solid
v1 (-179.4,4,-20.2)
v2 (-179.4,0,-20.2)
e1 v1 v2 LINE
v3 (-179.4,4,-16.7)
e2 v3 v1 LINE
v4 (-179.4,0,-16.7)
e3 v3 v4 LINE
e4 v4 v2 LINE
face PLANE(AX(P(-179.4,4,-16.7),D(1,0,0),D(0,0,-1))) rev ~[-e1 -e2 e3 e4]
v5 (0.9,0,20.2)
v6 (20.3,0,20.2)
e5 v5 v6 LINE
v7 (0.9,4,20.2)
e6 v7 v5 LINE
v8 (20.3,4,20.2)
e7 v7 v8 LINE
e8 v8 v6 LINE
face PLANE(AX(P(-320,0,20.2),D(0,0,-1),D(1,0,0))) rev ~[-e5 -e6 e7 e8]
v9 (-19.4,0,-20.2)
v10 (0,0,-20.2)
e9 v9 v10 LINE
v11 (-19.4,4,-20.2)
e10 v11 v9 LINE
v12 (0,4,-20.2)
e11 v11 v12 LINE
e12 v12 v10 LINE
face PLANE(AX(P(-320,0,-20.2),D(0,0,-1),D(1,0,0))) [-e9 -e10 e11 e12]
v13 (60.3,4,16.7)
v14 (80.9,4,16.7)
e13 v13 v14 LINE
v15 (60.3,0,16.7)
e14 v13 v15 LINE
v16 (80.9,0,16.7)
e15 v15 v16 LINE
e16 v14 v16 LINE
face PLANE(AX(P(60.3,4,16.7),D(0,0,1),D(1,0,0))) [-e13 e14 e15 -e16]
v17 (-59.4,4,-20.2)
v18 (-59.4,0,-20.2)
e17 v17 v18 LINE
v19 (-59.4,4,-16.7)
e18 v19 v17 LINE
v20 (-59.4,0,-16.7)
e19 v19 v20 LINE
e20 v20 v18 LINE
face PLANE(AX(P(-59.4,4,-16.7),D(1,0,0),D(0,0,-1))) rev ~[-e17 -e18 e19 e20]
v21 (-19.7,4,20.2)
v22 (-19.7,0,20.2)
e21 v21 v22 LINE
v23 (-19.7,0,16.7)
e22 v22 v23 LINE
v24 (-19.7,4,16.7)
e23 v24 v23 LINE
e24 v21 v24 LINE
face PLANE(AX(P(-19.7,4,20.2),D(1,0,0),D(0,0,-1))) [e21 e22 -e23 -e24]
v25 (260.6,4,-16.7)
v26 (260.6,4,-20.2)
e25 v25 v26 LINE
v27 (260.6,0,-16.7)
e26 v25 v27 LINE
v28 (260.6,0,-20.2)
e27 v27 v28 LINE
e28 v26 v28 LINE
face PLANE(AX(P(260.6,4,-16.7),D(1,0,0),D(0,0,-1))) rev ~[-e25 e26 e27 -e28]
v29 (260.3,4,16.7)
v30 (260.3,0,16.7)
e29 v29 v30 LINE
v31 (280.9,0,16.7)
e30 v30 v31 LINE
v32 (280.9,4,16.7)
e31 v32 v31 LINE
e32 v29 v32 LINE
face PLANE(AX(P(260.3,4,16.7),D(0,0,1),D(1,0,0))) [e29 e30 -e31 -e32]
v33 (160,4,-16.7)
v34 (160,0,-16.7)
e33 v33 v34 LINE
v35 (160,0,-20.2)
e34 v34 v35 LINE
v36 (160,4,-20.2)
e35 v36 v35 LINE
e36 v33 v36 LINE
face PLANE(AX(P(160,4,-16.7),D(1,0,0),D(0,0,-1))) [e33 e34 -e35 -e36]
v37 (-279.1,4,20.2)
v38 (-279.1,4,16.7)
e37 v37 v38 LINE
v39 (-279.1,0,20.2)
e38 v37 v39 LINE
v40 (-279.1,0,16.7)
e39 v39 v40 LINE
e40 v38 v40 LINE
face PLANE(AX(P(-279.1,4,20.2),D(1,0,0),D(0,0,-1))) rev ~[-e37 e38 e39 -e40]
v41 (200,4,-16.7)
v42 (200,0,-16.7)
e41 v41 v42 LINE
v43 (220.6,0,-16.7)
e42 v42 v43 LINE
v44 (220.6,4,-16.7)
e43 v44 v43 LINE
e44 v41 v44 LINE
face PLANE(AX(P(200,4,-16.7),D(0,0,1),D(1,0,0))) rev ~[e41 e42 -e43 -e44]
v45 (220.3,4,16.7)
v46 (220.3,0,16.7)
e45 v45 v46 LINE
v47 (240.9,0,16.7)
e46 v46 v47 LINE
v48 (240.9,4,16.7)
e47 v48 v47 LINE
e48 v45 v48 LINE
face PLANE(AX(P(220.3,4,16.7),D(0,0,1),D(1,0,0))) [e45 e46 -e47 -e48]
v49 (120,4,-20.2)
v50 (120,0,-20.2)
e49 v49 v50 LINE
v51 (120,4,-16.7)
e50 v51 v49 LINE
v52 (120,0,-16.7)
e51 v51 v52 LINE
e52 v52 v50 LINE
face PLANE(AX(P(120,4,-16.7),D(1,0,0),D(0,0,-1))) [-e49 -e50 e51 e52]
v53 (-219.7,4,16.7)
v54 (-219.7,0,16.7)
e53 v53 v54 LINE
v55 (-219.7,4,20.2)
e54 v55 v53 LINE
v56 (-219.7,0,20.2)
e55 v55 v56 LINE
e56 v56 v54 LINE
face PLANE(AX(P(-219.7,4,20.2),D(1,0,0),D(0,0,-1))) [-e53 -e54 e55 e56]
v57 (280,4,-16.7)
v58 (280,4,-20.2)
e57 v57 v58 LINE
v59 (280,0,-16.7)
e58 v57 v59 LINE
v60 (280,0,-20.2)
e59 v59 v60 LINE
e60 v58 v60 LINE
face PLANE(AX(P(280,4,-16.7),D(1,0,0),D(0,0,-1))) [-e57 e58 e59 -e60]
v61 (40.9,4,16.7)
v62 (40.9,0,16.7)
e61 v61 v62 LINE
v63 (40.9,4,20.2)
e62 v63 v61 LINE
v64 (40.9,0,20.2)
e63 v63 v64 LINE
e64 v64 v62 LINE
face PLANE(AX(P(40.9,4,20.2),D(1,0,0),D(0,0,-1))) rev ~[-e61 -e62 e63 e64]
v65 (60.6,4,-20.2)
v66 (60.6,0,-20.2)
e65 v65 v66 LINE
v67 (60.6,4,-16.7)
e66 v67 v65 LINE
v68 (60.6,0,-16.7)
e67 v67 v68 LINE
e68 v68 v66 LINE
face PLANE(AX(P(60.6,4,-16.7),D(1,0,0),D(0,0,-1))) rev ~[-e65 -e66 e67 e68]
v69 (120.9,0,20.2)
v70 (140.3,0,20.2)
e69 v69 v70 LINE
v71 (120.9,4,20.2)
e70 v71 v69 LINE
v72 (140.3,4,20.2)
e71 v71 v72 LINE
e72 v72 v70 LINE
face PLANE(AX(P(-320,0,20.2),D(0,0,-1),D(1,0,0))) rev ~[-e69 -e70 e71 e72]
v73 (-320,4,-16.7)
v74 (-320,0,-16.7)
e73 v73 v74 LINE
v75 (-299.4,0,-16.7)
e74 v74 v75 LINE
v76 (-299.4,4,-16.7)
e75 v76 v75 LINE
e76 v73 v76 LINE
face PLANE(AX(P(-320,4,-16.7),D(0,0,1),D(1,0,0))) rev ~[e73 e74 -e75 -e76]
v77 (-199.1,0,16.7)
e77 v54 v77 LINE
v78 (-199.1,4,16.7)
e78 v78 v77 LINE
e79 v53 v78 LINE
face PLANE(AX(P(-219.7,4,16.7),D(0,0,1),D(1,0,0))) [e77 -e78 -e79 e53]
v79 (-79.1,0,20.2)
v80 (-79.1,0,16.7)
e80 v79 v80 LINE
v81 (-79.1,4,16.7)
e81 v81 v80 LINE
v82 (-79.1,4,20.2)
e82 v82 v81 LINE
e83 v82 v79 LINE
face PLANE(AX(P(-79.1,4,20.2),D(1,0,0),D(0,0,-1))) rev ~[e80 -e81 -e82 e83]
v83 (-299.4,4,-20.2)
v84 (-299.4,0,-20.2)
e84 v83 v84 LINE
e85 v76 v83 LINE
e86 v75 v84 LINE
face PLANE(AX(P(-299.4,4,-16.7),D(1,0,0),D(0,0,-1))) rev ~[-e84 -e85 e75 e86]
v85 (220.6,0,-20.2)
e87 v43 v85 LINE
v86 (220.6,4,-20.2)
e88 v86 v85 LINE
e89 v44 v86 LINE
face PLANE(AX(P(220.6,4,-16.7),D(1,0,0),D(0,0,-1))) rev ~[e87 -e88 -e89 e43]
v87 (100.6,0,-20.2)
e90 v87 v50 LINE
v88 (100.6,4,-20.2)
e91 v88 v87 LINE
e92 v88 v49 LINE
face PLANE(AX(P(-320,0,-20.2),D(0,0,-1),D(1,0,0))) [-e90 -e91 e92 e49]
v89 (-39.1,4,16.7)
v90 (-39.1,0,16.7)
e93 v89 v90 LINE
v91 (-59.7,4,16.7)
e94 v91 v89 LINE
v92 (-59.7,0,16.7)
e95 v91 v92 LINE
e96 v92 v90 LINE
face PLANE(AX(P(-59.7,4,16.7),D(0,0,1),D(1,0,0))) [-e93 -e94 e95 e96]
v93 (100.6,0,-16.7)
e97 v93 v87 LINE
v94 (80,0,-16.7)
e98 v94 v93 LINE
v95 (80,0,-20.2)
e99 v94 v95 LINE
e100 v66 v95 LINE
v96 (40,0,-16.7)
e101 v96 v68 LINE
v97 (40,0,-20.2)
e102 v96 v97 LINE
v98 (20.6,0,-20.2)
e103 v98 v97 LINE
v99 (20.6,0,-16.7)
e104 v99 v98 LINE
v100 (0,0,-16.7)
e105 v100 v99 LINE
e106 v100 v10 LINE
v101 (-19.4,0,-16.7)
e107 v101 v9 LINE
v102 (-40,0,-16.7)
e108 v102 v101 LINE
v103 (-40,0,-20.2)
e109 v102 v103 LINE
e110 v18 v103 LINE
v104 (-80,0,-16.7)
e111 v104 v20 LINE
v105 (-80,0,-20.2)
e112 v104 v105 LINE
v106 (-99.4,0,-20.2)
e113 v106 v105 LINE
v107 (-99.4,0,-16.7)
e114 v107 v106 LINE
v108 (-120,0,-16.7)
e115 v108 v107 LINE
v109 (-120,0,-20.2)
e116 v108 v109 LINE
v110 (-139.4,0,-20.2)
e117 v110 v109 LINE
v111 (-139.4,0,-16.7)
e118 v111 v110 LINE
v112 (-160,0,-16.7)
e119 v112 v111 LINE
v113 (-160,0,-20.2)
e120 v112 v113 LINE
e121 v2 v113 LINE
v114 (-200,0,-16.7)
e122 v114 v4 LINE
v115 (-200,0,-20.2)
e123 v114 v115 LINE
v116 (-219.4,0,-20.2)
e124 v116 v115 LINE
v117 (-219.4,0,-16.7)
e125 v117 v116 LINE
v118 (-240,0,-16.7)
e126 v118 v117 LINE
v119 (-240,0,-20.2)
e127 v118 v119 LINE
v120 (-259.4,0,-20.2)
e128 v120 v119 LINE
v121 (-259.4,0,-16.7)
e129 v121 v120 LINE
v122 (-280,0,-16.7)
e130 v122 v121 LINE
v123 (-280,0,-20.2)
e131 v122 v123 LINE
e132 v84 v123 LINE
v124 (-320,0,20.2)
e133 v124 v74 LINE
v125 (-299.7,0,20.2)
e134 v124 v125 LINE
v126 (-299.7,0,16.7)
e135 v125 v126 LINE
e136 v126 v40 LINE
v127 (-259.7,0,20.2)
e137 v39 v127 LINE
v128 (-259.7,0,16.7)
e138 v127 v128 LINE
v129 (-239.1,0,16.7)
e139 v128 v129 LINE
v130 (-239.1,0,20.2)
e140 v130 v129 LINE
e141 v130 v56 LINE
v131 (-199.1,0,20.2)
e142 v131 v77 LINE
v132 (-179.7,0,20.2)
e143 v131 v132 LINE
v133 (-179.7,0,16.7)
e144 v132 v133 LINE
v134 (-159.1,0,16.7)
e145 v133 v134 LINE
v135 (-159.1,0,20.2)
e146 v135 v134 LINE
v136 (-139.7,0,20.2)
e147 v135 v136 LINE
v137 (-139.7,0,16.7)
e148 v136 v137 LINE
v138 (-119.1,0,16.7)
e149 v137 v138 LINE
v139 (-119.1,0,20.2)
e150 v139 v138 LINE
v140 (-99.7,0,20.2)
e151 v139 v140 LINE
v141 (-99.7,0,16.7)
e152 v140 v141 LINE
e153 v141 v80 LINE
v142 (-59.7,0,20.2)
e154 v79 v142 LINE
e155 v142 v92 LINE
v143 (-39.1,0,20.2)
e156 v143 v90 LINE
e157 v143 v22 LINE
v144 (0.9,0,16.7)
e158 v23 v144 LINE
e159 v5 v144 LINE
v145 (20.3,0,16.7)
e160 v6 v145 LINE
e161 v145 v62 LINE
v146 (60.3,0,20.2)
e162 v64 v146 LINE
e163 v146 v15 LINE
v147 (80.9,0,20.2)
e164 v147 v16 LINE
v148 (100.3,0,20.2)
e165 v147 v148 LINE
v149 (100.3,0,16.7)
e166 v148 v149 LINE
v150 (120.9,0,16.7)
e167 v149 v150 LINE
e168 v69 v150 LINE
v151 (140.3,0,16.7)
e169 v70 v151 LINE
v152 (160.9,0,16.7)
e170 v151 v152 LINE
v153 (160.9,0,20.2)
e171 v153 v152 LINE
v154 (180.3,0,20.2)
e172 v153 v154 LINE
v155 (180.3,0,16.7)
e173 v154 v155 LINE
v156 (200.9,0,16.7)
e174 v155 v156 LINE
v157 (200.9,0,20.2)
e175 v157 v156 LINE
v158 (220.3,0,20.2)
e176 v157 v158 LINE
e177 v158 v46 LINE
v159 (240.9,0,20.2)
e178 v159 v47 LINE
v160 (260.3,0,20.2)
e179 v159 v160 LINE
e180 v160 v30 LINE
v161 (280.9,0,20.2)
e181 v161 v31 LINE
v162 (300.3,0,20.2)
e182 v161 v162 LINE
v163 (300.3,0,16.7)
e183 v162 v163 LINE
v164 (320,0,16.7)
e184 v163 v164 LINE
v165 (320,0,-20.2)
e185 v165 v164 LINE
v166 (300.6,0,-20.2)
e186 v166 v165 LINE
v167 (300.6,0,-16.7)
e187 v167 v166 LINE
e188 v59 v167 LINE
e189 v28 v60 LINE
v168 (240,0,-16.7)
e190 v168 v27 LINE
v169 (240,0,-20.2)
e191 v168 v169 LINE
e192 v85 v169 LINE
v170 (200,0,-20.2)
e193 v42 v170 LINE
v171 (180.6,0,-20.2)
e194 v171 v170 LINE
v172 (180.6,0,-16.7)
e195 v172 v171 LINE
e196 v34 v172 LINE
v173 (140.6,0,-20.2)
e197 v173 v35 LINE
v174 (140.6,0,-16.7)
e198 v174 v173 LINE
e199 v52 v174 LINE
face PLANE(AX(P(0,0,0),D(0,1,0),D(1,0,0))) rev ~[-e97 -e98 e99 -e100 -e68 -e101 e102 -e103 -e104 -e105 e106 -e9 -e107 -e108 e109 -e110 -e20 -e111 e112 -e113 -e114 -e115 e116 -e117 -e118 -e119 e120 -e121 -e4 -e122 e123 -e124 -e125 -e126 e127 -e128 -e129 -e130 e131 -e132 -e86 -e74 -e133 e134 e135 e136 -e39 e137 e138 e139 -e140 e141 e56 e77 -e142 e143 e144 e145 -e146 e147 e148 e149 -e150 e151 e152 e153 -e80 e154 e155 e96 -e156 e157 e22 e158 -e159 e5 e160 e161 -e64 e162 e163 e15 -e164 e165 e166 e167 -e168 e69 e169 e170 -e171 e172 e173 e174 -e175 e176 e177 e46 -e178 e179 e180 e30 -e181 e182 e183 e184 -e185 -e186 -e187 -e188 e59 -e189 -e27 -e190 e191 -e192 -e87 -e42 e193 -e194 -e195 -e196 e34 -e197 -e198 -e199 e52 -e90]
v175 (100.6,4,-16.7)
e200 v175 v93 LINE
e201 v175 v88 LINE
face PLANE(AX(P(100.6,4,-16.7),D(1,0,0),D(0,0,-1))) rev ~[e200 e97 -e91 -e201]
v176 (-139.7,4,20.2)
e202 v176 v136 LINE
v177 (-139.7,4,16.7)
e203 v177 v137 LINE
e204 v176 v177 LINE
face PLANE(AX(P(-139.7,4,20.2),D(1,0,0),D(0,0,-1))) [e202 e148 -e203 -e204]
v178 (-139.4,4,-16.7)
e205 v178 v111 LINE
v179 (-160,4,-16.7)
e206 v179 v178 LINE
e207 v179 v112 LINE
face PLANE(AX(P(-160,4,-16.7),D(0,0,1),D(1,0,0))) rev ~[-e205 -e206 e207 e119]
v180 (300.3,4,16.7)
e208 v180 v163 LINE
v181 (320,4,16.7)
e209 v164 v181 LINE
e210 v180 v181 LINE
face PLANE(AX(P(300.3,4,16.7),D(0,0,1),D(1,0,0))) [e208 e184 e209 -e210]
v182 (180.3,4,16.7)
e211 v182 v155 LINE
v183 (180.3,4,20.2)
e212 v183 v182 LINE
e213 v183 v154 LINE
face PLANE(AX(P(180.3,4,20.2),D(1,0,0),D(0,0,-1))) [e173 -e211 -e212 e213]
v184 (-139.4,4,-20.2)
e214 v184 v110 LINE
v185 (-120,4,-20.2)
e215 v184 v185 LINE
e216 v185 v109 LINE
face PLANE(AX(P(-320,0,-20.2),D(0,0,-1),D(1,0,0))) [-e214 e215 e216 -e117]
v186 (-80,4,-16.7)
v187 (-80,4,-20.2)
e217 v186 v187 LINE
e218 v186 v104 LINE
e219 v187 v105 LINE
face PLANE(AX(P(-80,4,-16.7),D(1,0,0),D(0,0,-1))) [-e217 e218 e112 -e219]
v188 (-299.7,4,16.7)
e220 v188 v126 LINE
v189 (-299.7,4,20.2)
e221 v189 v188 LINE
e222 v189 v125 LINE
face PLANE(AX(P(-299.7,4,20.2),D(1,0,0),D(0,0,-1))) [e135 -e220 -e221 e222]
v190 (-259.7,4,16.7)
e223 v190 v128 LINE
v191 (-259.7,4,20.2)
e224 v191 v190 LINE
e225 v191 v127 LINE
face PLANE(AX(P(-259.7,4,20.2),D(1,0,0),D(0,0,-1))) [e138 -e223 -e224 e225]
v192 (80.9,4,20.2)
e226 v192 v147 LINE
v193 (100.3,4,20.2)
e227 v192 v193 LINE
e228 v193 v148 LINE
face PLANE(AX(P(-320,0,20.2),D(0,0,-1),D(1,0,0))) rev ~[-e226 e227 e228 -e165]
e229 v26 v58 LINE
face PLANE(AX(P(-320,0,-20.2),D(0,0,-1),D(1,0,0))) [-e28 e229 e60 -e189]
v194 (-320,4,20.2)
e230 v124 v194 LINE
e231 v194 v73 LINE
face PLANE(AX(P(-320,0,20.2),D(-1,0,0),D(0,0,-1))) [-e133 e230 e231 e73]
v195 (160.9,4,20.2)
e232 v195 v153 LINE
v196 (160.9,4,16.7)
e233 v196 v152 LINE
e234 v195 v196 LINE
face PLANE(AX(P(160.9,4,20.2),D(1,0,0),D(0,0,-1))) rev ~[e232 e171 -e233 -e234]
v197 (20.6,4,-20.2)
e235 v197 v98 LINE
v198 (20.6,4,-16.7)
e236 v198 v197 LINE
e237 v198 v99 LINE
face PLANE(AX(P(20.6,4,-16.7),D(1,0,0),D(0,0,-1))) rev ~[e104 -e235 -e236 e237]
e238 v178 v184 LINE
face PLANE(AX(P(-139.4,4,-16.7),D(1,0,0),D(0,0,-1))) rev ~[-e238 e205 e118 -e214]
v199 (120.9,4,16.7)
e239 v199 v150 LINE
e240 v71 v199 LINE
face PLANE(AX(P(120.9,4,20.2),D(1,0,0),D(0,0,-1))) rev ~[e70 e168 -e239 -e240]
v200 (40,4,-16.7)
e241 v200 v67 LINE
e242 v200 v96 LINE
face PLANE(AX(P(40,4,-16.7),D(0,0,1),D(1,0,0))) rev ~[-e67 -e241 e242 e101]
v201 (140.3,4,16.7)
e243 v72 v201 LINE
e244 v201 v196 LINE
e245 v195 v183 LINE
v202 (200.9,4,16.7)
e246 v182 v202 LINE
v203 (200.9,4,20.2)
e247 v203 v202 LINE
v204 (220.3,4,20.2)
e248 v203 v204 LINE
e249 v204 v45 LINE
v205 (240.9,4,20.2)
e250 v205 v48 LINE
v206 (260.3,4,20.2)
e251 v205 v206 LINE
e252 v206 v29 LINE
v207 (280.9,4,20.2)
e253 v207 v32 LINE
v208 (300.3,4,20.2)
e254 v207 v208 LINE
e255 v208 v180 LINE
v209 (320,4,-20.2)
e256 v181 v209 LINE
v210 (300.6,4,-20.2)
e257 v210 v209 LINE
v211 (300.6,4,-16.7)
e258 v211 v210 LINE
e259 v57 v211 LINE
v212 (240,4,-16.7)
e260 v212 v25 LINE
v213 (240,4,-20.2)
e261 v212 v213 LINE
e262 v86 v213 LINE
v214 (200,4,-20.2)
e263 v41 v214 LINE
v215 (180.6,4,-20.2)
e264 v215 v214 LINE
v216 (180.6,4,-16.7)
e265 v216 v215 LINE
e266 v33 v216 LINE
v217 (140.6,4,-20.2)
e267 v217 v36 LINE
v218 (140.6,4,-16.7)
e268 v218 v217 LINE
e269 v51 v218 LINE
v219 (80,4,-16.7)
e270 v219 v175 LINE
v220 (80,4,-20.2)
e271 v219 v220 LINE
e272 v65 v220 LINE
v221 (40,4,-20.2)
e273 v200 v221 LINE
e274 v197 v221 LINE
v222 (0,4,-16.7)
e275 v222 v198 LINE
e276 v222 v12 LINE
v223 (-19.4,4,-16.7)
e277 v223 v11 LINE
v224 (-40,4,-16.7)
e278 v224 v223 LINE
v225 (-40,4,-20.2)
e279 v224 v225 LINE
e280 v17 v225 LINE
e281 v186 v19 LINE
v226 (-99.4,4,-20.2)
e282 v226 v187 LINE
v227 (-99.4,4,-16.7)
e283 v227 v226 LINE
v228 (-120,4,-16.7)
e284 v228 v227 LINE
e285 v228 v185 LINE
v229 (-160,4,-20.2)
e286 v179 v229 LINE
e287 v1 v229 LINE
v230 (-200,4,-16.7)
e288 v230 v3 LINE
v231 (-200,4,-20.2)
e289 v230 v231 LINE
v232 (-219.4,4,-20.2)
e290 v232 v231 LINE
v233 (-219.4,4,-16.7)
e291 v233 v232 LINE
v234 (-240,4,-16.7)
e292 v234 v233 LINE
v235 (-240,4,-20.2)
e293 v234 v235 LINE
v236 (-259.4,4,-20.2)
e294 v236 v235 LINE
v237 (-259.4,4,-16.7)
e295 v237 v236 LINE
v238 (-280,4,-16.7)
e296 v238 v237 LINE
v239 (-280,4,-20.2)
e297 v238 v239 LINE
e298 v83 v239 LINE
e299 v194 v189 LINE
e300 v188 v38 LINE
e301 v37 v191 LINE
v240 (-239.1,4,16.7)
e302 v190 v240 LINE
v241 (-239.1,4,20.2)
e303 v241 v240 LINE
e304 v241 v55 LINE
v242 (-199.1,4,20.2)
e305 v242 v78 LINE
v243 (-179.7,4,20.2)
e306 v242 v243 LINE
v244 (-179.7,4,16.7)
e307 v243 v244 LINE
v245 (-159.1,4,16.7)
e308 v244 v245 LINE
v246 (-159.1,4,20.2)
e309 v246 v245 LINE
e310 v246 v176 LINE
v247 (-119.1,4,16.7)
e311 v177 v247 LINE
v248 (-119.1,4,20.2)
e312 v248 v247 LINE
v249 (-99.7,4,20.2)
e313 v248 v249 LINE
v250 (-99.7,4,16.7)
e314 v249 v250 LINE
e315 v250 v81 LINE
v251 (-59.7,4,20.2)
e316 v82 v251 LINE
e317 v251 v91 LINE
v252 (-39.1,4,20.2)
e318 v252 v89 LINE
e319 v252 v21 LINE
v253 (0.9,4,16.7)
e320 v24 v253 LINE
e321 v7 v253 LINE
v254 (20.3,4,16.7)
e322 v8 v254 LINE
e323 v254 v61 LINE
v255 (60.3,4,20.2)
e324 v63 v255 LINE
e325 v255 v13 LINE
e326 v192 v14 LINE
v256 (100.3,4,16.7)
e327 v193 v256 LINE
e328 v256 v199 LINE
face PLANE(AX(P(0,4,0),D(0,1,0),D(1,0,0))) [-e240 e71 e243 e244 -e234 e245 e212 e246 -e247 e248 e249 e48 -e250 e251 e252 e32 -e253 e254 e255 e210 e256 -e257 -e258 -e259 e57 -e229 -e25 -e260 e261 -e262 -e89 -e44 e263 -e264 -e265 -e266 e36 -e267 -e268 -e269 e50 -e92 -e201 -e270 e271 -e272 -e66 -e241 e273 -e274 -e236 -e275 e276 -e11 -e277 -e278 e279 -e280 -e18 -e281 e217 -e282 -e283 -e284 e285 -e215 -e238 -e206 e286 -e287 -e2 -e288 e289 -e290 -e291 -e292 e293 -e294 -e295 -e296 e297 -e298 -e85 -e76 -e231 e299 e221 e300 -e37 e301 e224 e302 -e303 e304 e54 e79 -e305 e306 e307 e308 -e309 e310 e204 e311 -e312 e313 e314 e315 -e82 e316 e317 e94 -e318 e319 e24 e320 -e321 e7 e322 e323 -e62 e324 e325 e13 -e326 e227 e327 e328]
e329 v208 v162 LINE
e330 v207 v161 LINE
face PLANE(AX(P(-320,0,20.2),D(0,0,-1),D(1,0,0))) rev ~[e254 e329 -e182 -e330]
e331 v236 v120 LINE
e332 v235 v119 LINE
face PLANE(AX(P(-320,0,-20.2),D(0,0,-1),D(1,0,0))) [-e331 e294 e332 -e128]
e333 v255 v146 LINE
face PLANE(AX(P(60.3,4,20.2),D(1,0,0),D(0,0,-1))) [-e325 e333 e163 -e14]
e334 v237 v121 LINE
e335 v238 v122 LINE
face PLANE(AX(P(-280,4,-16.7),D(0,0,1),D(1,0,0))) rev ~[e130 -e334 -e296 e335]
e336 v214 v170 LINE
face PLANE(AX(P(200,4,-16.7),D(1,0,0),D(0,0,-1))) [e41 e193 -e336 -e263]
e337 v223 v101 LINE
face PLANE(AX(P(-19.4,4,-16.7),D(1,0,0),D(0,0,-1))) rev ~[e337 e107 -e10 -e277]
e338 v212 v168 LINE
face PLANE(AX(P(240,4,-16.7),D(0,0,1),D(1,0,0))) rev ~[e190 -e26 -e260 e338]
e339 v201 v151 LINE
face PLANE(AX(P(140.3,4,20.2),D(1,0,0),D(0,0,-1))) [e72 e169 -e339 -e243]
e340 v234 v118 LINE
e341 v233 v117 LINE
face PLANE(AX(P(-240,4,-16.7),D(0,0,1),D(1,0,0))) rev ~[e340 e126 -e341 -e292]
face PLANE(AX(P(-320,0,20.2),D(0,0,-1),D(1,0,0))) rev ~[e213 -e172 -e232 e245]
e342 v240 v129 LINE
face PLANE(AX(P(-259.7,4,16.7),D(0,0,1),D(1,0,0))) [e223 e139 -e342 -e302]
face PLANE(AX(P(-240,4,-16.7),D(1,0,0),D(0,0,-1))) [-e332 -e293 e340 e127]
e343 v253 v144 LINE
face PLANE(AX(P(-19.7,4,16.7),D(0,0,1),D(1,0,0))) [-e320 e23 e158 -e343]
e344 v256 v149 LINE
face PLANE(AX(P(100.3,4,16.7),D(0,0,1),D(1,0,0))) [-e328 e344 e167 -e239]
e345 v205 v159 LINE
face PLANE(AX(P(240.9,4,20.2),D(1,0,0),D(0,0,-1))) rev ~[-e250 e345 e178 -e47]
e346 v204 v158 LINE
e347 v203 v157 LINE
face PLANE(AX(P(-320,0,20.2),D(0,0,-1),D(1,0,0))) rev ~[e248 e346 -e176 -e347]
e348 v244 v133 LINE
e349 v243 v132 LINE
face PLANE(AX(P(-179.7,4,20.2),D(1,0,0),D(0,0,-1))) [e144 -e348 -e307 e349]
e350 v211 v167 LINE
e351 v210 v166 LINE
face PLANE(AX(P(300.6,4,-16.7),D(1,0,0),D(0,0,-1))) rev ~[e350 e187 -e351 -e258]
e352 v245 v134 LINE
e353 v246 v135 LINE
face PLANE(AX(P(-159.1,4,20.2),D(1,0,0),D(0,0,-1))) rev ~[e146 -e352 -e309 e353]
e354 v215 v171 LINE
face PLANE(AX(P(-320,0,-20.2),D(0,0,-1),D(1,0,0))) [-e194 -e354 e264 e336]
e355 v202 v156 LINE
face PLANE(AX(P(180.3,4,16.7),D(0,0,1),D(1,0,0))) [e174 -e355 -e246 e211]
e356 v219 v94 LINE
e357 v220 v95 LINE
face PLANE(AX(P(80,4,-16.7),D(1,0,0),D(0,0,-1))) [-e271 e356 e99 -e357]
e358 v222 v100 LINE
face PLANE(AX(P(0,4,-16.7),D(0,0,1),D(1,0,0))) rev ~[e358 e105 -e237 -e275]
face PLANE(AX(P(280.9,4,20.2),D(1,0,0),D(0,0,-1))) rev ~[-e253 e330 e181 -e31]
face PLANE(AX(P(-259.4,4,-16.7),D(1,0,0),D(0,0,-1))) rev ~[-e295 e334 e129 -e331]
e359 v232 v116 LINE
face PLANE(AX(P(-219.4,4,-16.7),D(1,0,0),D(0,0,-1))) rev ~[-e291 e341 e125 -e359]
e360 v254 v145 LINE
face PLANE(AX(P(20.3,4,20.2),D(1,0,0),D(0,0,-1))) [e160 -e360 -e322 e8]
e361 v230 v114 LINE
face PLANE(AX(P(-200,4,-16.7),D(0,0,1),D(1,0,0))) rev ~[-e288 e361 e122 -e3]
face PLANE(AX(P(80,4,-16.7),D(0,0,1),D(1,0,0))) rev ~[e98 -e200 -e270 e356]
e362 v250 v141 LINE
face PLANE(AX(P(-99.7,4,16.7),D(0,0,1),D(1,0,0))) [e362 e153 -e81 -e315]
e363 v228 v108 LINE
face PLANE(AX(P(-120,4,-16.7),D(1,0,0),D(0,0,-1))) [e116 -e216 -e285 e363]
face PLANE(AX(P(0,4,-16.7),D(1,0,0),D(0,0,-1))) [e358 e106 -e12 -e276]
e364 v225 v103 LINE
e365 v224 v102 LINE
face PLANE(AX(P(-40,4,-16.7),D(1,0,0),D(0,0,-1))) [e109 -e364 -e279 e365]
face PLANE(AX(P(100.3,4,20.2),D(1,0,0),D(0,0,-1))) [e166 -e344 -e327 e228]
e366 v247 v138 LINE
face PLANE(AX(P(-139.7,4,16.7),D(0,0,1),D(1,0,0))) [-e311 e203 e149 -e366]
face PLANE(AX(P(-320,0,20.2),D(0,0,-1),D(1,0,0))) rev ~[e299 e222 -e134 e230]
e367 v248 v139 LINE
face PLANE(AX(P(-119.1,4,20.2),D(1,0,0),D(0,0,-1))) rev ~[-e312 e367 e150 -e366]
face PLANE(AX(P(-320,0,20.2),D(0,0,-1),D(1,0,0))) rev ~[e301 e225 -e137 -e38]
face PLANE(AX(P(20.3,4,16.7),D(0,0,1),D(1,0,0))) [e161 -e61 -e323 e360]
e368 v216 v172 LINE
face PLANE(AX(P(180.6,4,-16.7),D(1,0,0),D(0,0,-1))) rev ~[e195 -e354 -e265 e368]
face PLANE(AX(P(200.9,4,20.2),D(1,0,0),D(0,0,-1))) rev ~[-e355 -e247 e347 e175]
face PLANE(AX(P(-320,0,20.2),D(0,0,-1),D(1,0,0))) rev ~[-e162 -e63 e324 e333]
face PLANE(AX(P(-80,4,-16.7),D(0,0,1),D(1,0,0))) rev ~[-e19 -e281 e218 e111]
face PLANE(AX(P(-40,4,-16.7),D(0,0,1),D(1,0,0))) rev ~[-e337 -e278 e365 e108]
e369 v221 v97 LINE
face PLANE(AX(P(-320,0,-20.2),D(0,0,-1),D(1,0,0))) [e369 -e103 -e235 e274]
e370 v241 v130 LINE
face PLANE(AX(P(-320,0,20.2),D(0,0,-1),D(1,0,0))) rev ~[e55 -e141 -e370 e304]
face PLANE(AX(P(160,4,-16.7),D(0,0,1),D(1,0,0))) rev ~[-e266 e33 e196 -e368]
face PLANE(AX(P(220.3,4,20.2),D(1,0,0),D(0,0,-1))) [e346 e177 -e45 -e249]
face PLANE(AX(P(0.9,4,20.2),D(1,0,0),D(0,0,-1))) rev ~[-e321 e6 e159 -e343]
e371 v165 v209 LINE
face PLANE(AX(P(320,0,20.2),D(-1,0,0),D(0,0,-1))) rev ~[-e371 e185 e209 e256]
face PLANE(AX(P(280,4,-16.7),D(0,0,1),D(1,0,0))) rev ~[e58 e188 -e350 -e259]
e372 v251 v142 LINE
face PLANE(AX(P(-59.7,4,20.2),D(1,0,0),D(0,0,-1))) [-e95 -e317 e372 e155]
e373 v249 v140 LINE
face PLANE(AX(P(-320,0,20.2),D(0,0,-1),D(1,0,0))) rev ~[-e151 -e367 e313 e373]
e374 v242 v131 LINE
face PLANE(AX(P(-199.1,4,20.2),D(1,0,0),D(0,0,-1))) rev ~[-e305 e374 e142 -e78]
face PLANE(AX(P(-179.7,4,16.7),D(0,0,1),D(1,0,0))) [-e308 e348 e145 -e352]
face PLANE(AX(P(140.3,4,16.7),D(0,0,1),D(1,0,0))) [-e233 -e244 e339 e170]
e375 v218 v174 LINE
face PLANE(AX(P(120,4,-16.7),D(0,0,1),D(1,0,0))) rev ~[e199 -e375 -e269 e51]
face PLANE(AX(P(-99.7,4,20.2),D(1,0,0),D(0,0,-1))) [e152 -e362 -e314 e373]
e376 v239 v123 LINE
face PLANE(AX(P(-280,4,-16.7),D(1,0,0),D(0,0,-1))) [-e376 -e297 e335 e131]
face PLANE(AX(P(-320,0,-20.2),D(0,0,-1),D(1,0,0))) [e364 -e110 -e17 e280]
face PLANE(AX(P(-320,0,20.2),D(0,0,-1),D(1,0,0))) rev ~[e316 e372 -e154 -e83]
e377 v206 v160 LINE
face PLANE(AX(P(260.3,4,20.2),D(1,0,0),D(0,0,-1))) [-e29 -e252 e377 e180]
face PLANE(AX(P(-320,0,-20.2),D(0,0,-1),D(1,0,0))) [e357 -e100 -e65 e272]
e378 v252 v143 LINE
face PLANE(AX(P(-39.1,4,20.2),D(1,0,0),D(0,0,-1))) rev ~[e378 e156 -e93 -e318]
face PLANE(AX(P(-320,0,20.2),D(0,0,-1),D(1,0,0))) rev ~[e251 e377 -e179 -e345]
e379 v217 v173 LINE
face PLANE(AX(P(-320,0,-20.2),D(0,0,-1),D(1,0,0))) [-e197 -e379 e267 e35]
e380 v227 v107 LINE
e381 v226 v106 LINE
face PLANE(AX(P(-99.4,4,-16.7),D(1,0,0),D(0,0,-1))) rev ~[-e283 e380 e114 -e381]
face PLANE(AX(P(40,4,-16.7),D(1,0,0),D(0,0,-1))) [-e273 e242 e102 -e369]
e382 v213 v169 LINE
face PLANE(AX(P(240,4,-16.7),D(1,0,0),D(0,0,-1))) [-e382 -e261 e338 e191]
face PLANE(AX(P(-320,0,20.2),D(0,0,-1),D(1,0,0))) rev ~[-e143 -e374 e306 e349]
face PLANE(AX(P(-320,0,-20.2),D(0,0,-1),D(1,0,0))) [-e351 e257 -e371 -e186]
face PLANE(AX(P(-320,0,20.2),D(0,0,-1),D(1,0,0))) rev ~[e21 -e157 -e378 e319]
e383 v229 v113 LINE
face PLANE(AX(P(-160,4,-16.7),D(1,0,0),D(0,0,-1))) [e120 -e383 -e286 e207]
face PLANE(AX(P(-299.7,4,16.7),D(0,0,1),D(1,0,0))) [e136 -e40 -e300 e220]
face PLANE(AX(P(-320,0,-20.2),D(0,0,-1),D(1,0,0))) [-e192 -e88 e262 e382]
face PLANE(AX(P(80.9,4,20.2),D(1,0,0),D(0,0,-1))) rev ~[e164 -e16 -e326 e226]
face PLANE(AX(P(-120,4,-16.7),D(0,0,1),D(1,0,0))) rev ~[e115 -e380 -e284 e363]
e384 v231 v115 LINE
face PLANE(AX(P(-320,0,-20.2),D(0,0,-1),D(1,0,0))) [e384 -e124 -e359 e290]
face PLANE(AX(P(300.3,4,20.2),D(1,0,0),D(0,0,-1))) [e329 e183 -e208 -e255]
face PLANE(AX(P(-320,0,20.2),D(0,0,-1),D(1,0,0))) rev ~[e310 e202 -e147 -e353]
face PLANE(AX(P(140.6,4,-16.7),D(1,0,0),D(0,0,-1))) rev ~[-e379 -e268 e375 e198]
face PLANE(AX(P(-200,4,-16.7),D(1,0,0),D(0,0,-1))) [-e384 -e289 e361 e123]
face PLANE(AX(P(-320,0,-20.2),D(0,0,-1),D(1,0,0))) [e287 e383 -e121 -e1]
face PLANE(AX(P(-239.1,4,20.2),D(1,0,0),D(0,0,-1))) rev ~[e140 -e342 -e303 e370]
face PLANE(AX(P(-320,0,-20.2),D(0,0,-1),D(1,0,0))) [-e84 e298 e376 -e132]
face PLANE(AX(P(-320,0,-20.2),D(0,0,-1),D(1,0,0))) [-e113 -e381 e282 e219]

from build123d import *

# Parameters (mm, degrees)
SKETCH1_W           = 640
SKETCH1_H           = 40.4
BOSS_EXTRUDE1_DEPTH = 4
SKETCH2_W           = 20.6
SKETCH2_H           = 3.5
CUT_EXTRUDE1_DEPTH  = 4
LPATTERN1_COUNT     = 17
LPATTERN1_PITCH     = 40


with BuildPart() as part:
    # Sketch1 → Boss-Extrude1 (new body)
    with BuildSketch(Plane(origin=(0, 0, 0), x_dir=(1, 0, 0), z_dir=(0, 1, 0))):
        Rectangle(SKETCH1_W, SKETCH1_H)
    extrude(amount=BOSS_EXTRUDE1_DEPTH)

    # Sketch2 → Cut-Extrude1 (cut)
    with BuildSketch(Plane(origin=(0, 4, 0), x_dir=(1, 0, 0), z_dir=(0, 1, 0))):
        with Locations((-309.7, 18.45)):
            Rectangle(SKETCH2_W, SKETCH2_H)
        with Locations((-289.4, -18.45)):
            Rectangle(SKETCH2_W, SKETCH2_H)
    cut_extrude1 = extrude(amount=-CUT_EXTRUDE1_DEPTH, mode=Mode.SUBTRACT)

    # LPattern1: Cut-Extrude1 ×17
    with Locations(*[(i * LPATTERN1_PITCH, 0, 0) for i in range(1, LPATTERN1_COUNT)]):
        add(cut_extrude1, mode=Mode.SUBTRACT)


solid = part.part
